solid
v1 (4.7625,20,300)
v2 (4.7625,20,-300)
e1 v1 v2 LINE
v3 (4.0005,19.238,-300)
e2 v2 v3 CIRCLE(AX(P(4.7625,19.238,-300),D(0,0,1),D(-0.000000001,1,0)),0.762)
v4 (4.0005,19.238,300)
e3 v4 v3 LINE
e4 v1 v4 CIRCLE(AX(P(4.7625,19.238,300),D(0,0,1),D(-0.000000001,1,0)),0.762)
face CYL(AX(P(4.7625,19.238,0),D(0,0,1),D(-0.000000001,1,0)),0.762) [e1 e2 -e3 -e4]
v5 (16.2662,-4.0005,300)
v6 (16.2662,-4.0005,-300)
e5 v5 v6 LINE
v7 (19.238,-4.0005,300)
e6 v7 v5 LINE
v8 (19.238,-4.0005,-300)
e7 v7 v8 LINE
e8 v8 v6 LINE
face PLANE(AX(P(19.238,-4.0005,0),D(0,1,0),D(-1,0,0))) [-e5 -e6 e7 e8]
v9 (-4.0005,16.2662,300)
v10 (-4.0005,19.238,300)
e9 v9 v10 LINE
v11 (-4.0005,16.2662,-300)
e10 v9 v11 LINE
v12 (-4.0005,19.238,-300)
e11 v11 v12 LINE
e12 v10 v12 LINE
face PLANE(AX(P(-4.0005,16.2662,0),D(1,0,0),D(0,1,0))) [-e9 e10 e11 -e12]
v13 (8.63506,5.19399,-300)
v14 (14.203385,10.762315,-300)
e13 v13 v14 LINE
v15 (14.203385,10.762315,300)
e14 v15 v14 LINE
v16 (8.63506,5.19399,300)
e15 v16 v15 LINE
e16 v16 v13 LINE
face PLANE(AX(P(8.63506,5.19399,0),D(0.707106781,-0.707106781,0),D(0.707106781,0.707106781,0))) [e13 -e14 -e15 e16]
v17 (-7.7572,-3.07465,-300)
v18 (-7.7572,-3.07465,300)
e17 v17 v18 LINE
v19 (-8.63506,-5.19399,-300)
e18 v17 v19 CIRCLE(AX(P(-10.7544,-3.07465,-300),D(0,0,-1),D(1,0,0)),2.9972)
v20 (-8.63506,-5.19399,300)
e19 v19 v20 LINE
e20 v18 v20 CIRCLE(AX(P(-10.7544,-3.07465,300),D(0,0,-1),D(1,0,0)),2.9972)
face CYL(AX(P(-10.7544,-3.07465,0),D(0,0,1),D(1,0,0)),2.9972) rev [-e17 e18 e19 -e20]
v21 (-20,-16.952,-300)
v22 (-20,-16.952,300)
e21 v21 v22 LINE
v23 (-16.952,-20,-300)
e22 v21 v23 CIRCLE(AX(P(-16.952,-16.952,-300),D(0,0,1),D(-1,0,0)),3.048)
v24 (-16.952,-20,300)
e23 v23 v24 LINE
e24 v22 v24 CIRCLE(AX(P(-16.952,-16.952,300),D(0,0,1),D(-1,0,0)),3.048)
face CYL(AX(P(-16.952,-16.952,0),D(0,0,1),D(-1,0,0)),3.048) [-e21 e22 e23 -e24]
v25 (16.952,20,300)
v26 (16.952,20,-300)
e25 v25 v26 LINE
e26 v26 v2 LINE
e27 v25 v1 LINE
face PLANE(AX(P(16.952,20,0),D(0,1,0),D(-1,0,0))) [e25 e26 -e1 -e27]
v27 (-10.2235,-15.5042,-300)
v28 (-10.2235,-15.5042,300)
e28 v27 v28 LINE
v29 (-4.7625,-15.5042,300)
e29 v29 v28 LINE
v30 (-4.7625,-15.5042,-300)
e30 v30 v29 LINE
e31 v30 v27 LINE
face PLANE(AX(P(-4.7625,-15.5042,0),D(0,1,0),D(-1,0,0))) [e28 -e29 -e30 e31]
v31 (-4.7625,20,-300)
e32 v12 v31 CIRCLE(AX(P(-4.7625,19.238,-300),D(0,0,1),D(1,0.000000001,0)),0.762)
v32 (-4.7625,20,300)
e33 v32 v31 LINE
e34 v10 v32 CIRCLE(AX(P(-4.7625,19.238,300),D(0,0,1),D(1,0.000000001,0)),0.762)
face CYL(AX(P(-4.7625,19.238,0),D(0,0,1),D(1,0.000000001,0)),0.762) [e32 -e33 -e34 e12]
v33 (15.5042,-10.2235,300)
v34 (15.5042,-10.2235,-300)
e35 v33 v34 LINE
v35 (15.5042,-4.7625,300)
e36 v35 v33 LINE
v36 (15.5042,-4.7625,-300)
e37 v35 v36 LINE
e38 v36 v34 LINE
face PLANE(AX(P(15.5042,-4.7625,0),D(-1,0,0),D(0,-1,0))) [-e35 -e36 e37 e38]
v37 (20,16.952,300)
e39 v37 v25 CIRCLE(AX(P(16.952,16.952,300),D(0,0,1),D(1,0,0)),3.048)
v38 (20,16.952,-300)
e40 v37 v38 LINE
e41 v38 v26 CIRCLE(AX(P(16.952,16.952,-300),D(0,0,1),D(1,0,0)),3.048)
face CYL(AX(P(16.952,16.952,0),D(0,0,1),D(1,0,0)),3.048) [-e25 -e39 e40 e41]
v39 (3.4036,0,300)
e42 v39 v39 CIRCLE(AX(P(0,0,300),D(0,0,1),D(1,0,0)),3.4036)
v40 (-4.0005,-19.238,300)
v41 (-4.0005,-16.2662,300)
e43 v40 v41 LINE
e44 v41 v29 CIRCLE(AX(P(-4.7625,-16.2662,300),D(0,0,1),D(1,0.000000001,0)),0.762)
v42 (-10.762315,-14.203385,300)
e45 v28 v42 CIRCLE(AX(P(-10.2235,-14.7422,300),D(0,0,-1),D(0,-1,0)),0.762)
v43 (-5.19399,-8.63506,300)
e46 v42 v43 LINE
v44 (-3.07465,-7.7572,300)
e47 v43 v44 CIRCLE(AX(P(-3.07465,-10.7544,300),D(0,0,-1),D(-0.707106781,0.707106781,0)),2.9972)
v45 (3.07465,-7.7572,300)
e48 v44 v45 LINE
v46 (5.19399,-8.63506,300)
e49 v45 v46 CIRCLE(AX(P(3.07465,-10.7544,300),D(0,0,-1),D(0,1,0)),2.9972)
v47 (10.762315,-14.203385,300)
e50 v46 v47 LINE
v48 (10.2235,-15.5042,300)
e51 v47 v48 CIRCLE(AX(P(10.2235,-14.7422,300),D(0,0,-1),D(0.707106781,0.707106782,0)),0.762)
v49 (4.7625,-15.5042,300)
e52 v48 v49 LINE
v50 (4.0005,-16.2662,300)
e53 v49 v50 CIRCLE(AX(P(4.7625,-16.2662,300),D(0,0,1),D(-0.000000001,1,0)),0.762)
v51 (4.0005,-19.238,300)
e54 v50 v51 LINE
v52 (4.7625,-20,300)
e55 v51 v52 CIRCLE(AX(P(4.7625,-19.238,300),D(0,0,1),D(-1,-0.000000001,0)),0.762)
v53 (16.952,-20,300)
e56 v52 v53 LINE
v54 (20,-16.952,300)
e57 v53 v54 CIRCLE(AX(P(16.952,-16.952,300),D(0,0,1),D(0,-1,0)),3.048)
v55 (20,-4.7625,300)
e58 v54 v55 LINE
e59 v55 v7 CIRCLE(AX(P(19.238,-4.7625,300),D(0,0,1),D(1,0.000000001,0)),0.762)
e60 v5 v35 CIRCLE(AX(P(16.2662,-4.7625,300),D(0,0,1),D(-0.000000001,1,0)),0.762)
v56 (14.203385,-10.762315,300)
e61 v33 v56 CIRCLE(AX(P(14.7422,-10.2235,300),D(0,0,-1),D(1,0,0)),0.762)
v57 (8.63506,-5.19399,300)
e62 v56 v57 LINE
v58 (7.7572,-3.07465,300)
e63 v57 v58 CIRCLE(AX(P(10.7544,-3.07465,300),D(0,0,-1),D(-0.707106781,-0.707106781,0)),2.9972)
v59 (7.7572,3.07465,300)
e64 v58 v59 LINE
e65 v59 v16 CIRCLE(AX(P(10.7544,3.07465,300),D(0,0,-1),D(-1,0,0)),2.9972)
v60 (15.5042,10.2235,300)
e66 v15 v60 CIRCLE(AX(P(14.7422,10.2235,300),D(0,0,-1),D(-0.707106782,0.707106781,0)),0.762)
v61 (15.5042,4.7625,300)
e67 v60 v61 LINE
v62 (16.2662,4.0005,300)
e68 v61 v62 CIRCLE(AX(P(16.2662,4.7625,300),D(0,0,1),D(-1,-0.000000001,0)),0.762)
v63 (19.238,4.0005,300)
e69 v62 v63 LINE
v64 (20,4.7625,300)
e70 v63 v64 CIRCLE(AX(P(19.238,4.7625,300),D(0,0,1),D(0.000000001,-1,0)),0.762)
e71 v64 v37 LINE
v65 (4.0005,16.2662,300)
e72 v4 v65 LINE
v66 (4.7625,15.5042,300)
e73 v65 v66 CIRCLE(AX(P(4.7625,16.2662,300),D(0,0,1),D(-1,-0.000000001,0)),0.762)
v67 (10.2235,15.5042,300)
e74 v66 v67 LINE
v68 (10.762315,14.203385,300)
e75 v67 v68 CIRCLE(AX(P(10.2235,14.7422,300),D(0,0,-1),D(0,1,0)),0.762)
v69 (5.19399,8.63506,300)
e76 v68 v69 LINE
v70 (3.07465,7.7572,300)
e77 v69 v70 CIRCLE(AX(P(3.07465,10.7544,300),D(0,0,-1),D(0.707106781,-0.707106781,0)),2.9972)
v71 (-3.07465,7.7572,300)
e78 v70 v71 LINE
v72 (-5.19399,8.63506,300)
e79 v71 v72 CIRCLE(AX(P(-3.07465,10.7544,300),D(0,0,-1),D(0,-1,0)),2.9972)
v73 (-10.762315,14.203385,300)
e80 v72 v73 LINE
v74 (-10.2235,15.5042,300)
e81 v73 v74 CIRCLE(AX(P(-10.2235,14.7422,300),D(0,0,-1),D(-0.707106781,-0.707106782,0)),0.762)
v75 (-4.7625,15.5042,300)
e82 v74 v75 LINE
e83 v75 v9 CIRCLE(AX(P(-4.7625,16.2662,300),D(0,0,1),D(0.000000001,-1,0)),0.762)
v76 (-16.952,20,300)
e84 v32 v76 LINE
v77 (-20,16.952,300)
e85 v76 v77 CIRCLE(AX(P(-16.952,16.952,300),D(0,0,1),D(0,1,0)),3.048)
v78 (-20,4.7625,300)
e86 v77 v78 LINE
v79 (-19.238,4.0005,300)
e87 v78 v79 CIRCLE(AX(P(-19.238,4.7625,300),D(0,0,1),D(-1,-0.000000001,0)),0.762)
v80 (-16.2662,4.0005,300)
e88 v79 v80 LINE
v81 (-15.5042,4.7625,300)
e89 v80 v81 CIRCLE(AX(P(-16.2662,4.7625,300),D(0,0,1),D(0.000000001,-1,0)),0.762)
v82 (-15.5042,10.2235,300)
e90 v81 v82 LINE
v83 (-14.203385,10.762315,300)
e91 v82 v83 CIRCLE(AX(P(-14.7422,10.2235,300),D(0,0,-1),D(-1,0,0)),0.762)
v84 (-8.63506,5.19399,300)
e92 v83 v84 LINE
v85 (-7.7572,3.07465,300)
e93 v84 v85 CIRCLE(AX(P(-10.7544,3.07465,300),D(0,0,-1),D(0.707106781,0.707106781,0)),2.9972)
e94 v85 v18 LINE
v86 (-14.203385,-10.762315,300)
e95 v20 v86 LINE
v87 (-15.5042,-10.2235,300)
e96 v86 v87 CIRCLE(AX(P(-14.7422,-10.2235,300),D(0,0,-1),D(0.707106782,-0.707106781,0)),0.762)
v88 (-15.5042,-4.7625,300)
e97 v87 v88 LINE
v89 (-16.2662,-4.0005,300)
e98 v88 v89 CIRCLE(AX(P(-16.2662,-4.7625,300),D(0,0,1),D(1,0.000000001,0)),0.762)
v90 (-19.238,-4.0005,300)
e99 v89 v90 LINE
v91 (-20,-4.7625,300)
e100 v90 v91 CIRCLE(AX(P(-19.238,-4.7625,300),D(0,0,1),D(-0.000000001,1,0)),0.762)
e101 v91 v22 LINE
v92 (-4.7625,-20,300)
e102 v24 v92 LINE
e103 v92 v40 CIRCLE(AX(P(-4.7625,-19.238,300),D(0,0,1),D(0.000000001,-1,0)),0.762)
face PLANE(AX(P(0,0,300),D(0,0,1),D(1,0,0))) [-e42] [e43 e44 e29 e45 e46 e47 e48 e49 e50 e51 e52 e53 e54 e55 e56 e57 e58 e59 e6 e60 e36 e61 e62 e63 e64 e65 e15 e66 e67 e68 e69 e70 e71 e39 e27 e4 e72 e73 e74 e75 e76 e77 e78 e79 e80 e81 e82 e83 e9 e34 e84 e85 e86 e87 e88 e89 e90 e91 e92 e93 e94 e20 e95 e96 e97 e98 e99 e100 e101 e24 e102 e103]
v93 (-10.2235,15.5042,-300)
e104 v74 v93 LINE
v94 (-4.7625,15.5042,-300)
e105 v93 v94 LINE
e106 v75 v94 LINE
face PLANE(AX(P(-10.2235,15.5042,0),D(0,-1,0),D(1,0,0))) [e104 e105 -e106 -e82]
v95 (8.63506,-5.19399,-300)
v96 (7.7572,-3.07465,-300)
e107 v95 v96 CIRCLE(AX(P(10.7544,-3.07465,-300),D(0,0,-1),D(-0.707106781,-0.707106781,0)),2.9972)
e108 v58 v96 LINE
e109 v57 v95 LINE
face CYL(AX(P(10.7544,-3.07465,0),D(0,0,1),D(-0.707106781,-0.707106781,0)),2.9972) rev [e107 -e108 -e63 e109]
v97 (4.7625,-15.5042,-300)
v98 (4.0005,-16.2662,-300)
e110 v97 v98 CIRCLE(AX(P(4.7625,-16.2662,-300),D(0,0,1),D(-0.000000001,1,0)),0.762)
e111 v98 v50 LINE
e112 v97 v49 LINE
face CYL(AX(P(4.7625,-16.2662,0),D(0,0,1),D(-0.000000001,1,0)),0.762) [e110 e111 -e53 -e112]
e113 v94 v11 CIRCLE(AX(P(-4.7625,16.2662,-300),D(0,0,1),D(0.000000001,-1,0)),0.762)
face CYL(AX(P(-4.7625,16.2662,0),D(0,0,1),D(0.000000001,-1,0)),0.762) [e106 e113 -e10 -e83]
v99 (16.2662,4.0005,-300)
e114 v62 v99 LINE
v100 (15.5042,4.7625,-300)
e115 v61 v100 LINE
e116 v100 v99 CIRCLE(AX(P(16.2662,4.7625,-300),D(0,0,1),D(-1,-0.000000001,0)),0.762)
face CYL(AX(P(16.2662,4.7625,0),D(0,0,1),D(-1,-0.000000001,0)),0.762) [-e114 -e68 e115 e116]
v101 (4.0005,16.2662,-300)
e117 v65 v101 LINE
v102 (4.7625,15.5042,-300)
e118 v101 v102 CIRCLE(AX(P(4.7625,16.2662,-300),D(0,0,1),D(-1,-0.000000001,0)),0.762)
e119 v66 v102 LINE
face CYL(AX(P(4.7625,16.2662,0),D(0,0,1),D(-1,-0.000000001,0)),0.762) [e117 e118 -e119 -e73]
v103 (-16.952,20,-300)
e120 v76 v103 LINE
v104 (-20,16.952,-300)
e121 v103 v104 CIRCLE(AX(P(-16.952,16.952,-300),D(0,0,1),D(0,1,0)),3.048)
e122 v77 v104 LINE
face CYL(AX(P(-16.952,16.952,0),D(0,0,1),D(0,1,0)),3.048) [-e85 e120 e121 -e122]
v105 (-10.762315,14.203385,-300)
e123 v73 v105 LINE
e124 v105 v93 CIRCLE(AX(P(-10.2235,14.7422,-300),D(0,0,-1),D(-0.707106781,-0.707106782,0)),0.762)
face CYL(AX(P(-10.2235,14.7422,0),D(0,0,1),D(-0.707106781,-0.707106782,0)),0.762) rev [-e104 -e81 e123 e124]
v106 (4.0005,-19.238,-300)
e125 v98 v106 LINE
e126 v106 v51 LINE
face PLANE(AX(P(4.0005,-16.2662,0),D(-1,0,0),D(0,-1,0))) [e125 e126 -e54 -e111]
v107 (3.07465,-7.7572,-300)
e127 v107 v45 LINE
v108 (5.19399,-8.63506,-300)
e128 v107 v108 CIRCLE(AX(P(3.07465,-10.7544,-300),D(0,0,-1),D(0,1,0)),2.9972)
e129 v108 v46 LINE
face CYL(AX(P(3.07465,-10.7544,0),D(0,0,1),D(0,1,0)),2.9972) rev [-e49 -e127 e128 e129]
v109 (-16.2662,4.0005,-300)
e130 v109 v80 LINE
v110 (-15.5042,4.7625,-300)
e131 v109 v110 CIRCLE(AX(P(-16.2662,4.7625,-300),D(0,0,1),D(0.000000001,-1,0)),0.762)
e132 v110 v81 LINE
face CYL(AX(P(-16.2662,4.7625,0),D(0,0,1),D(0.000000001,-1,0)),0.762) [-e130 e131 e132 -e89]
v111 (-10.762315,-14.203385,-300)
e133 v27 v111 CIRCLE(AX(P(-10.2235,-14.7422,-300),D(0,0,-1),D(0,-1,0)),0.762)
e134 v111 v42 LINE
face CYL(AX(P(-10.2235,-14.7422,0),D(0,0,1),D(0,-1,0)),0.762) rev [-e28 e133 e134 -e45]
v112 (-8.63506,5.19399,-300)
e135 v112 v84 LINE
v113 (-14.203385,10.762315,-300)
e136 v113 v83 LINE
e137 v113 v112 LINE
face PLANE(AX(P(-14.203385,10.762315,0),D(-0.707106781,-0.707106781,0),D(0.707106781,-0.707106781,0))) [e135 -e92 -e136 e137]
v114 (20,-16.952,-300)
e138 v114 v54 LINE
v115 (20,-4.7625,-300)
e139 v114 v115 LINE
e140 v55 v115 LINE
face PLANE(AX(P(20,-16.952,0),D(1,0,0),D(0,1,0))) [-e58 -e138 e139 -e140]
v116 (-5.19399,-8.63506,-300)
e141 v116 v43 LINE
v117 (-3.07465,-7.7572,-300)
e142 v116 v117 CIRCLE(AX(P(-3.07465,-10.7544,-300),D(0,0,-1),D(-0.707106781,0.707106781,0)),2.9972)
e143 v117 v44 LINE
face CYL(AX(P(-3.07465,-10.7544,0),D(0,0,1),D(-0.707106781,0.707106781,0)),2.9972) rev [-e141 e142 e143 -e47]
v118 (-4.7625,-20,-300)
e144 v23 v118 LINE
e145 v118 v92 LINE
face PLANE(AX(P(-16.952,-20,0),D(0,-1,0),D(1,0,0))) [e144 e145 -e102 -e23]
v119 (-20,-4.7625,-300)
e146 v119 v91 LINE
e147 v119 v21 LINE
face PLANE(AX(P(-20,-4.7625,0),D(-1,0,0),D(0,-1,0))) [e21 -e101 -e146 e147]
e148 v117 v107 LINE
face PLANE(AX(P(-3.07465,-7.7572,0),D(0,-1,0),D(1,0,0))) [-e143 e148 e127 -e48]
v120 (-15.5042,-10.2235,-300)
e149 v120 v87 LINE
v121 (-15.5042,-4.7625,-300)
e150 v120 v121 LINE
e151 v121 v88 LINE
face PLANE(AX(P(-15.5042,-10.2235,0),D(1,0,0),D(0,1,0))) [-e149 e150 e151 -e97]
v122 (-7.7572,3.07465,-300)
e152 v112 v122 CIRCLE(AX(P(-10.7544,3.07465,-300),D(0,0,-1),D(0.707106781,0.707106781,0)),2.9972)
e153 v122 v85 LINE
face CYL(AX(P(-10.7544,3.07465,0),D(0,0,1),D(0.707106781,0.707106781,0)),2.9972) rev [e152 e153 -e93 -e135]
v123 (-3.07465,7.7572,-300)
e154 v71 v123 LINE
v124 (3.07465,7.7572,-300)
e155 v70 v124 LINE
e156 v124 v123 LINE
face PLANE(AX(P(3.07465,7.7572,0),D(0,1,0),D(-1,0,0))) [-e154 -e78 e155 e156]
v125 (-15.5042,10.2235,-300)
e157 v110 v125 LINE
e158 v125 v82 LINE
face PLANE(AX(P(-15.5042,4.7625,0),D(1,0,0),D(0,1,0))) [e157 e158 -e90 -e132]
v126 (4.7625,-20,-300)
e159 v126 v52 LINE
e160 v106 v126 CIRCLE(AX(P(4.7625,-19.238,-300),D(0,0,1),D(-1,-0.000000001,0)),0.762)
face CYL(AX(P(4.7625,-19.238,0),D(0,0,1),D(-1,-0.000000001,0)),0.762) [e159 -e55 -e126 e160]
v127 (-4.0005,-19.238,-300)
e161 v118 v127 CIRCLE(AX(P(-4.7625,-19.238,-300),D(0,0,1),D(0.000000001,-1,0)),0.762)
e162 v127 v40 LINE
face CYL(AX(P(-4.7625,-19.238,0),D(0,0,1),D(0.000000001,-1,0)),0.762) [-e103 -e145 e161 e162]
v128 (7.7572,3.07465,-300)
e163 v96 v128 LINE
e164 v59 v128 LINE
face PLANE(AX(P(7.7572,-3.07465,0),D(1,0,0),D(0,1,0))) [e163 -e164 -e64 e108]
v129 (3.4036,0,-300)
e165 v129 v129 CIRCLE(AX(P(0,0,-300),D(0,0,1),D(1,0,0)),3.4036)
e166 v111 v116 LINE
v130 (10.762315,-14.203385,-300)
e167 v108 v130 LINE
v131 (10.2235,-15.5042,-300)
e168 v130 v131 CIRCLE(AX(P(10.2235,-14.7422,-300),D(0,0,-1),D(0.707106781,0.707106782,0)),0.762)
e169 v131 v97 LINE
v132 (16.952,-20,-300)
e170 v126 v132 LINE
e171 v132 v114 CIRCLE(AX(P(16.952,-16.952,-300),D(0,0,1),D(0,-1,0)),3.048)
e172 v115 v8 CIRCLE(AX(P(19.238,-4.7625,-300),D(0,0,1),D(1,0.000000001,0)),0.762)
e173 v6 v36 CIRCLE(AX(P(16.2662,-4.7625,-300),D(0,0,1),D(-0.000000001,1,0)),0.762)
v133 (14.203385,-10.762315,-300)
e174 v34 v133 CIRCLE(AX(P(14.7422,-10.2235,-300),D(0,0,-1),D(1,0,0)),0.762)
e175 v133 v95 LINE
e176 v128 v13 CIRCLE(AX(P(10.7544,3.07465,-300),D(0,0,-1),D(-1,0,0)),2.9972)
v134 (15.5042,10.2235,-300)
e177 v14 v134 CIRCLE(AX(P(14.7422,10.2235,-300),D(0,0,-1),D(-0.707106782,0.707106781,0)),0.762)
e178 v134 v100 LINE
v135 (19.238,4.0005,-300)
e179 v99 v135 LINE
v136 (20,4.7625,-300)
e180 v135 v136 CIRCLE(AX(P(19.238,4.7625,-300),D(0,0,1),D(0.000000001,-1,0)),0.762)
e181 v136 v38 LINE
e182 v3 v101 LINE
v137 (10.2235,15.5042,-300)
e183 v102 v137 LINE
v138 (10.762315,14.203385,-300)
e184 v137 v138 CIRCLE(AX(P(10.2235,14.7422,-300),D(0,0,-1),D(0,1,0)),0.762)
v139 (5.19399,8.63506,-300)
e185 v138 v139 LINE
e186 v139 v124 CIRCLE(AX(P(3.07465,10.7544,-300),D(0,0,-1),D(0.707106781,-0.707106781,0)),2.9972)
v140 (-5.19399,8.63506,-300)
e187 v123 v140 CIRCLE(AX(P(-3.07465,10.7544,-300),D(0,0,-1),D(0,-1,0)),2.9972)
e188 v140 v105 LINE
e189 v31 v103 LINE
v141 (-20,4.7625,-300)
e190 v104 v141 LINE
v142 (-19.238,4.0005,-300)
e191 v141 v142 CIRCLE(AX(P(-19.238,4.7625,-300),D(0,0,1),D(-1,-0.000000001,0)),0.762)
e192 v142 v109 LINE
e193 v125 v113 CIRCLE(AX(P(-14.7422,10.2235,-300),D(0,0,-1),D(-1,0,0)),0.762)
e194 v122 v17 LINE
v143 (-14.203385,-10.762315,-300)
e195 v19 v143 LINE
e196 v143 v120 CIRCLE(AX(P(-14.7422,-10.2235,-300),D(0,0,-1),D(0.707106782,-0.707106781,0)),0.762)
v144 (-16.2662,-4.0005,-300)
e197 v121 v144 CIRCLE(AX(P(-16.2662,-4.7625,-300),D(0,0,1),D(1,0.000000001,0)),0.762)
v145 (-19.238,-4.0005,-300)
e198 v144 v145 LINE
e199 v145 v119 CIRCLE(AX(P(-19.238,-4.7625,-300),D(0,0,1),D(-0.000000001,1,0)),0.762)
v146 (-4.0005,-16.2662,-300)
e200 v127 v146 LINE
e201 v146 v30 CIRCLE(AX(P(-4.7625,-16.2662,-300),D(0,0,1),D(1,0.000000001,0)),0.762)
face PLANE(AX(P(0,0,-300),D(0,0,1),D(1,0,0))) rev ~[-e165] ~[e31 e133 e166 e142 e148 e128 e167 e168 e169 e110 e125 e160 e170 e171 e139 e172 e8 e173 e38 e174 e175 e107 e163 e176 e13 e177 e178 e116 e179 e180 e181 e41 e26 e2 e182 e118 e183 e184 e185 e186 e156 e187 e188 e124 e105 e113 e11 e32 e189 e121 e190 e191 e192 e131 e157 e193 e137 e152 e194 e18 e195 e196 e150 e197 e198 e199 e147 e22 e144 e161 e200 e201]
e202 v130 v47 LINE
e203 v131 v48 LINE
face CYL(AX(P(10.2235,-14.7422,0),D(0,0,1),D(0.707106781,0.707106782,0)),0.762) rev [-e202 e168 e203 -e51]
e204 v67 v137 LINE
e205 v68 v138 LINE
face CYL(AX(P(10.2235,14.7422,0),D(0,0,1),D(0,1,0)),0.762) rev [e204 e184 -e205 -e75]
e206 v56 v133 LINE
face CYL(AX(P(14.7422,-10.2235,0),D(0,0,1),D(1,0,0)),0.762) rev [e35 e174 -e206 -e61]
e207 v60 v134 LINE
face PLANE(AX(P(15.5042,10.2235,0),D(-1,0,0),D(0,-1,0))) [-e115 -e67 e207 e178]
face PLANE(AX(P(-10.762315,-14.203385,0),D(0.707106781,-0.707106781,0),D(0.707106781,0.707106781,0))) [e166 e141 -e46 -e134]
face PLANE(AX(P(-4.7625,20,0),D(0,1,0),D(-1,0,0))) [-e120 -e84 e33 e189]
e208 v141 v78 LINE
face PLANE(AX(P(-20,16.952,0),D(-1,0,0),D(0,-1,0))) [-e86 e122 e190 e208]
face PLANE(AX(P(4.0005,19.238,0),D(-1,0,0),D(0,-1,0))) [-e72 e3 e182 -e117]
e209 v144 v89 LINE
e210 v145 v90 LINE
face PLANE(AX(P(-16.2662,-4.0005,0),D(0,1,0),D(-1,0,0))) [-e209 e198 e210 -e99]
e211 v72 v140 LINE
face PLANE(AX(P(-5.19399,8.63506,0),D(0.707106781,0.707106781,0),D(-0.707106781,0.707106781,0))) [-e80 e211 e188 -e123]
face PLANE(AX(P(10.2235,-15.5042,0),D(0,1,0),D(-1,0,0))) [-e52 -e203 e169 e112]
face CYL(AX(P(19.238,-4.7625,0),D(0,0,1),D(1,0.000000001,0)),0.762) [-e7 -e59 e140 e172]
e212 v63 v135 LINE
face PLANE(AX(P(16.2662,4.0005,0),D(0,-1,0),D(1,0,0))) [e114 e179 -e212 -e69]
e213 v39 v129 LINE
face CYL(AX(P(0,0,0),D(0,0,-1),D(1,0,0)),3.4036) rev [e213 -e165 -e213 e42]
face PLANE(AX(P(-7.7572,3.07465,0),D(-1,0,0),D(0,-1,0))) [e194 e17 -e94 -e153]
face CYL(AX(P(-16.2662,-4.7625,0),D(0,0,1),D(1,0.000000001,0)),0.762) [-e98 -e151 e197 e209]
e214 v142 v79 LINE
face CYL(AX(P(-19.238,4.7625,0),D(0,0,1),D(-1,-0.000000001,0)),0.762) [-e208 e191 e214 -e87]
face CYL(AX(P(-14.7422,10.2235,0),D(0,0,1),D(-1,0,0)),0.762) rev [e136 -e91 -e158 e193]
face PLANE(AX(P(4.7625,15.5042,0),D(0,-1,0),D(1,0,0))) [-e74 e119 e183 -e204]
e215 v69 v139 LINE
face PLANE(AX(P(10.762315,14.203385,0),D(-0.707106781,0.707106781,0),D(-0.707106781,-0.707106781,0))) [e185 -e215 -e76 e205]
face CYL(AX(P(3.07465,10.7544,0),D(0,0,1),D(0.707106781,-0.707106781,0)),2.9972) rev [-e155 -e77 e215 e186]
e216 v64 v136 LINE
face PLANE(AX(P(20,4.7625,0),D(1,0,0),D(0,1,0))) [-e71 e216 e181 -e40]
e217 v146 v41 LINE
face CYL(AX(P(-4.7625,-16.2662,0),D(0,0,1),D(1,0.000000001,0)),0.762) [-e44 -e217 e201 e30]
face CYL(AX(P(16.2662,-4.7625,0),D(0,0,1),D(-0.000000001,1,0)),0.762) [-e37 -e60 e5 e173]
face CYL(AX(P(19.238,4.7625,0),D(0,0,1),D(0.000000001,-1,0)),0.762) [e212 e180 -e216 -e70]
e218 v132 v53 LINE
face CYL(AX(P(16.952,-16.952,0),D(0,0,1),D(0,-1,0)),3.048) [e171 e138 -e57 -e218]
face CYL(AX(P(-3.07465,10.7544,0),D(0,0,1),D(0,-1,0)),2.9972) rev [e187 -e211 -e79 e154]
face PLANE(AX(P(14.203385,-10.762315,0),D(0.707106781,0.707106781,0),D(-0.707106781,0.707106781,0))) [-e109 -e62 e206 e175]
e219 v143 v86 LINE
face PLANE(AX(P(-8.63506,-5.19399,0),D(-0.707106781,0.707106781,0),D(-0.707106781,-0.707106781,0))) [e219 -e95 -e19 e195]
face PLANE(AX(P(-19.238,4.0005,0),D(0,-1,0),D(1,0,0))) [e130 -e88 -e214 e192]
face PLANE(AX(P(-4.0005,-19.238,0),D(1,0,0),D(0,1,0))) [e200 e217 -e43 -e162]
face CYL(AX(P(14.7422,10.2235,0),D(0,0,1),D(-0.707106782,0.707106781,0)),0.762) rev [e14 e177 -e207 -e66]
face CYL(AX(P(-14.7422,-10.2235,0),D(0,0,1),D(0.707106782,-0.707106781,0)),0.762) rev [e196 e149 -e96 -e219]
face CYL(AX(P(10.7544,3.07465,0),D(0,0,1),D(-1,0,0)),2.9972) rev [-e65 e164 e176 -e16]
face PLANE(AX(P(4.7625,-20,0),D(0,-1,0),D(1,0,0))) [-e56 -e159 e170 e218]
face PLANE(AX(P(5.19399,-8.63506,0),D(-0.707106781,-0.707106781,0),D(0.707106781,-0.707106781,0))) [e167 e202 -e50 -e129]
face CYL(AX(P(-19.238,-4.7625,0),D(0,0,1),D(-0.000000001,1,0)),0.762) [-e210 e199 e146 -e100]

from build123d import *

# Parameters (mm, degrees)
SKETCH1_R           = 3.4036
BOSS_EXTRUDE1_DEPTH = 300


with BuildPart() as part:
    # Sketch1 → Boss-Extrude1 (new, symmetric)
    with BuildSketch(Plane.XY):
        with BuildLine():
            Line((-20, 16.952), (-20, 4.7625))
            ThreePointArc((-20, 4.7625), (-19.776815367, 4.223684633), (-19.238, 4.0005))
            Line((-19.238, 4.0005), (-16.2662, 4.0005))
            ThreePointArc((-16.2662, 4.0005), (-15.727384633, 4.223684633), (-15.5042, 4.7625))
            Line((-15.5042, 4.7625), (-15.5042, 10.2235))
            ThreePointArc((-15.5042, 10.2235), (-15.033804775, 10.927496204), (-14.203384633, 10.762315367))
            Line((-14.203384633, 10.762315367), (-8.635059555, 5.19399029))
            ThreePointArc((-8.635059555, 5.19399029), (-7.985348265, 4.221628629), (-7.7572, 3.074649845))
            Line((-7.7572, 3.074649845), (-7.7572, -3.074649845))
            ThreePointArc((-7.7572, -3.074649845), (-7.985348265, -4.221628629), (-8.635059555, -5.19399029))
            Line((-8.635059555, -5.19399029), (-14.203384633, -10.762315367))
            ThreePointArc((-14.203384633, -10.762315367), (-15.033804775, -10.927496204), (-15.5042, -10.2235))
            Line((-15.5042, -10.2235), (-15.5042, -4.7625))
            ThreePointArc((-15.5042, -4.7625), (-15.727384633, -4.223684633), (-16.2662, -4.0005))
            Line((-16.2662, -4.0005), (-19.238, -4.0005))
            ThreePointArc((-19.238, -4.0005), (-19.776815367, -4.223684633), (-20, -4.7625))
            Line((-20, -4.7625), (-20, -16.952))
            ThreePointArc((-20, -16.952), (-19.107261469, -19.107261469), (-16.952, -20))
            Line((-16.952, -20), (-4.7625, -20))
            ThreePointArc((-4.7625, -20), (-4.223684633, -19.776815367), (-4.0005, -19.238))
            Line((-4.0005, -19.238), (-4.0005, -16.2662))
            ThreePointArc((-4.0005, -16.2662), (-4.223684633, -15.727384633), (-4.7625, -15.5042))
            Line((-4.7625, -15.5042), (-10.2235, -15.5042))
            ThreePointArc((-10.2235, -15.5042), (-10.927496204, -15.033804775), (-10.762315367, -14.203384633))
            Line((-10.762315367, -14.203384633), (-5.19399029, -8.635059555))
            ThreePointArc((-5.19399029, -8.635059555), (-4.221628629, -7.985348265), (-3.074649845, -7.7572))
            Line((-3.074649845, -7.7572), (3.074649845, -7.7572))
            ThreePointArc((3.074649845, -7.7572), (4.221628629, -7.985348265), (5.19399029, -8.635059555))
            Line((5.19399029, -8.635059555), (10.762315367, -14.203384633))
            ThreePointArc((10.762315367, -14.203384633), (10.927496204, -15.033804775), (10.2235, -15.5042))
            Line((10.2235, -15.5042), (4.7625, -15.5042))
            ThreePointArc((4.7625, -15.5042), (4.223684633, -15.727384633), (4.0005, -16.2662))
            Line((4.0005, -16.2662), (4.0005, -19.238))
            ThreePointArc((4.0005, -19.238), (4.223684633, -19.776815367), (4.7625, -20))
            Line((4.7625, -20), (16.952, -20))
            ThreePointArc((16.952, -20), (19.107261469, -19.107261469), (20, -16.952))
            Line((20, -16.952), (20, -4.7625))
            ThreePointArc((20, -4.7625), (19.776815367, -4.223684633), (19.238, -4.0005))
            Line((19.238, -4.0005), (16.2662, -4.0005))
            ThreePointArc((16.2662, -4.0005), (15.727384633, -4.223684633), (15.5042, -4.7625))
            Line((15.5042, -4.7625), (15.5042, -10.2235))
            ThreePointArc((15.5042, -10.2235), (15.033804775, -10.927496204), (14.203384633, -10.762315367))
            Line((14.203384633, -10.762315367), (8.635059555, -5.19399029))
            ThreePointArc((8.635059555, -5.19399029), (7.985348265, -4.221628629), (7.7572, -3.074649845))
            Line((7.7572, -3.074649845), (7.7572, 3.074649845))
            ThreePointArc((7.7572, 3.074649845), (7.985348265, 4.221628629), (8.635059555, 5.19399029))
            Line((8.635059555, 5.19399029), (14.203384633, 10.762315367))
            ThreePointArc((14.203384633, 10.762315367), (15.033804775, 10.927496204), (15.5042, 10.2235))
            Line((15.5042, 10.2235), (15.5042, 4.7625))
            ThreePointArc((15.5042, 4.7625), (15.727384633, 4.223684633), (16.2662, 4.0005))
            Line((16.2662, 4.0005), (19.238, 4.0005))
            ThreePointArc((19.238, 4.0005), (19.776815367, 4.223684633), (20, 4.7625))
            Line((20, 4.7625), (20, 16.952))
            ThreePointArc((20, 16.952), (19.107261469, 19.107261469), (16.952, 20))
            Line((16.952, 20), (4.7625, 20))
            ThreePointArc((4.7625, 20), (4.223684633, 19.776815367), (4.0005, 19.238))
            Line((4.0005, 19.238), (4.0005, 16.2662))
            ThreePointArc((4.0005, 16.2662), (4.223684633, 15.727384633), (4.7625, 15.5042))
            Line((4.7625, 15.5042), (10.2235, 15.5042))
            ThreePointArc((10.2235, 15.5042), (10.927496204, 15.033804775), (10.762315367, 14.203384633))
            Line((10.762315367, 14.203384633), (5.19399029, 8.635059555))
            ThreePointArc((5.19399029, 8.635059555), (4.221628629, 7.985348265), (3.074649845, 7.7572))
            Line((3.074649845, 7.7572), (-3.074649845, 7.7572))
            ThreePointArc((-3.074649845, 7.7572), (-4.221628629, 7.985348265), (-5.19399029, 8.635059555))
            Line((-5.19399029, 8.635059555), (-10.762315367, 14.203384633))
            ThreePointArc((-10.762315367, 14.203384633), (-10.927496204, 15.033804775), (-10.2235, 15.5042))
            Line((-10.2235, 15.5042), (-4.7625, 15.5042))
            ThreePointArc((-4.7625, 15.5042), (-4.223684633, 15.727384633), (-4.0005, 16.2662))
            Line((-4.0005, 16.2662), (-4.0005, 19.238))
            ThreePointArc((-4.0005, 19.238), (-4.223684633, 19.776815367), (-4.7625, 20))
            Line((-4.7625, 20), (-16.952, 20))
            ThreePointArc((-16.952, 20), (-19.107261469, 19.107261469), (-20, 16.952))
        make_face()
        Circle(SKETCH1_R, mode=Mode.SUBTRACT)
    extrude(amount=BOSS_EXTRUDE1_DEPTH, both=True)


solid = part.part
